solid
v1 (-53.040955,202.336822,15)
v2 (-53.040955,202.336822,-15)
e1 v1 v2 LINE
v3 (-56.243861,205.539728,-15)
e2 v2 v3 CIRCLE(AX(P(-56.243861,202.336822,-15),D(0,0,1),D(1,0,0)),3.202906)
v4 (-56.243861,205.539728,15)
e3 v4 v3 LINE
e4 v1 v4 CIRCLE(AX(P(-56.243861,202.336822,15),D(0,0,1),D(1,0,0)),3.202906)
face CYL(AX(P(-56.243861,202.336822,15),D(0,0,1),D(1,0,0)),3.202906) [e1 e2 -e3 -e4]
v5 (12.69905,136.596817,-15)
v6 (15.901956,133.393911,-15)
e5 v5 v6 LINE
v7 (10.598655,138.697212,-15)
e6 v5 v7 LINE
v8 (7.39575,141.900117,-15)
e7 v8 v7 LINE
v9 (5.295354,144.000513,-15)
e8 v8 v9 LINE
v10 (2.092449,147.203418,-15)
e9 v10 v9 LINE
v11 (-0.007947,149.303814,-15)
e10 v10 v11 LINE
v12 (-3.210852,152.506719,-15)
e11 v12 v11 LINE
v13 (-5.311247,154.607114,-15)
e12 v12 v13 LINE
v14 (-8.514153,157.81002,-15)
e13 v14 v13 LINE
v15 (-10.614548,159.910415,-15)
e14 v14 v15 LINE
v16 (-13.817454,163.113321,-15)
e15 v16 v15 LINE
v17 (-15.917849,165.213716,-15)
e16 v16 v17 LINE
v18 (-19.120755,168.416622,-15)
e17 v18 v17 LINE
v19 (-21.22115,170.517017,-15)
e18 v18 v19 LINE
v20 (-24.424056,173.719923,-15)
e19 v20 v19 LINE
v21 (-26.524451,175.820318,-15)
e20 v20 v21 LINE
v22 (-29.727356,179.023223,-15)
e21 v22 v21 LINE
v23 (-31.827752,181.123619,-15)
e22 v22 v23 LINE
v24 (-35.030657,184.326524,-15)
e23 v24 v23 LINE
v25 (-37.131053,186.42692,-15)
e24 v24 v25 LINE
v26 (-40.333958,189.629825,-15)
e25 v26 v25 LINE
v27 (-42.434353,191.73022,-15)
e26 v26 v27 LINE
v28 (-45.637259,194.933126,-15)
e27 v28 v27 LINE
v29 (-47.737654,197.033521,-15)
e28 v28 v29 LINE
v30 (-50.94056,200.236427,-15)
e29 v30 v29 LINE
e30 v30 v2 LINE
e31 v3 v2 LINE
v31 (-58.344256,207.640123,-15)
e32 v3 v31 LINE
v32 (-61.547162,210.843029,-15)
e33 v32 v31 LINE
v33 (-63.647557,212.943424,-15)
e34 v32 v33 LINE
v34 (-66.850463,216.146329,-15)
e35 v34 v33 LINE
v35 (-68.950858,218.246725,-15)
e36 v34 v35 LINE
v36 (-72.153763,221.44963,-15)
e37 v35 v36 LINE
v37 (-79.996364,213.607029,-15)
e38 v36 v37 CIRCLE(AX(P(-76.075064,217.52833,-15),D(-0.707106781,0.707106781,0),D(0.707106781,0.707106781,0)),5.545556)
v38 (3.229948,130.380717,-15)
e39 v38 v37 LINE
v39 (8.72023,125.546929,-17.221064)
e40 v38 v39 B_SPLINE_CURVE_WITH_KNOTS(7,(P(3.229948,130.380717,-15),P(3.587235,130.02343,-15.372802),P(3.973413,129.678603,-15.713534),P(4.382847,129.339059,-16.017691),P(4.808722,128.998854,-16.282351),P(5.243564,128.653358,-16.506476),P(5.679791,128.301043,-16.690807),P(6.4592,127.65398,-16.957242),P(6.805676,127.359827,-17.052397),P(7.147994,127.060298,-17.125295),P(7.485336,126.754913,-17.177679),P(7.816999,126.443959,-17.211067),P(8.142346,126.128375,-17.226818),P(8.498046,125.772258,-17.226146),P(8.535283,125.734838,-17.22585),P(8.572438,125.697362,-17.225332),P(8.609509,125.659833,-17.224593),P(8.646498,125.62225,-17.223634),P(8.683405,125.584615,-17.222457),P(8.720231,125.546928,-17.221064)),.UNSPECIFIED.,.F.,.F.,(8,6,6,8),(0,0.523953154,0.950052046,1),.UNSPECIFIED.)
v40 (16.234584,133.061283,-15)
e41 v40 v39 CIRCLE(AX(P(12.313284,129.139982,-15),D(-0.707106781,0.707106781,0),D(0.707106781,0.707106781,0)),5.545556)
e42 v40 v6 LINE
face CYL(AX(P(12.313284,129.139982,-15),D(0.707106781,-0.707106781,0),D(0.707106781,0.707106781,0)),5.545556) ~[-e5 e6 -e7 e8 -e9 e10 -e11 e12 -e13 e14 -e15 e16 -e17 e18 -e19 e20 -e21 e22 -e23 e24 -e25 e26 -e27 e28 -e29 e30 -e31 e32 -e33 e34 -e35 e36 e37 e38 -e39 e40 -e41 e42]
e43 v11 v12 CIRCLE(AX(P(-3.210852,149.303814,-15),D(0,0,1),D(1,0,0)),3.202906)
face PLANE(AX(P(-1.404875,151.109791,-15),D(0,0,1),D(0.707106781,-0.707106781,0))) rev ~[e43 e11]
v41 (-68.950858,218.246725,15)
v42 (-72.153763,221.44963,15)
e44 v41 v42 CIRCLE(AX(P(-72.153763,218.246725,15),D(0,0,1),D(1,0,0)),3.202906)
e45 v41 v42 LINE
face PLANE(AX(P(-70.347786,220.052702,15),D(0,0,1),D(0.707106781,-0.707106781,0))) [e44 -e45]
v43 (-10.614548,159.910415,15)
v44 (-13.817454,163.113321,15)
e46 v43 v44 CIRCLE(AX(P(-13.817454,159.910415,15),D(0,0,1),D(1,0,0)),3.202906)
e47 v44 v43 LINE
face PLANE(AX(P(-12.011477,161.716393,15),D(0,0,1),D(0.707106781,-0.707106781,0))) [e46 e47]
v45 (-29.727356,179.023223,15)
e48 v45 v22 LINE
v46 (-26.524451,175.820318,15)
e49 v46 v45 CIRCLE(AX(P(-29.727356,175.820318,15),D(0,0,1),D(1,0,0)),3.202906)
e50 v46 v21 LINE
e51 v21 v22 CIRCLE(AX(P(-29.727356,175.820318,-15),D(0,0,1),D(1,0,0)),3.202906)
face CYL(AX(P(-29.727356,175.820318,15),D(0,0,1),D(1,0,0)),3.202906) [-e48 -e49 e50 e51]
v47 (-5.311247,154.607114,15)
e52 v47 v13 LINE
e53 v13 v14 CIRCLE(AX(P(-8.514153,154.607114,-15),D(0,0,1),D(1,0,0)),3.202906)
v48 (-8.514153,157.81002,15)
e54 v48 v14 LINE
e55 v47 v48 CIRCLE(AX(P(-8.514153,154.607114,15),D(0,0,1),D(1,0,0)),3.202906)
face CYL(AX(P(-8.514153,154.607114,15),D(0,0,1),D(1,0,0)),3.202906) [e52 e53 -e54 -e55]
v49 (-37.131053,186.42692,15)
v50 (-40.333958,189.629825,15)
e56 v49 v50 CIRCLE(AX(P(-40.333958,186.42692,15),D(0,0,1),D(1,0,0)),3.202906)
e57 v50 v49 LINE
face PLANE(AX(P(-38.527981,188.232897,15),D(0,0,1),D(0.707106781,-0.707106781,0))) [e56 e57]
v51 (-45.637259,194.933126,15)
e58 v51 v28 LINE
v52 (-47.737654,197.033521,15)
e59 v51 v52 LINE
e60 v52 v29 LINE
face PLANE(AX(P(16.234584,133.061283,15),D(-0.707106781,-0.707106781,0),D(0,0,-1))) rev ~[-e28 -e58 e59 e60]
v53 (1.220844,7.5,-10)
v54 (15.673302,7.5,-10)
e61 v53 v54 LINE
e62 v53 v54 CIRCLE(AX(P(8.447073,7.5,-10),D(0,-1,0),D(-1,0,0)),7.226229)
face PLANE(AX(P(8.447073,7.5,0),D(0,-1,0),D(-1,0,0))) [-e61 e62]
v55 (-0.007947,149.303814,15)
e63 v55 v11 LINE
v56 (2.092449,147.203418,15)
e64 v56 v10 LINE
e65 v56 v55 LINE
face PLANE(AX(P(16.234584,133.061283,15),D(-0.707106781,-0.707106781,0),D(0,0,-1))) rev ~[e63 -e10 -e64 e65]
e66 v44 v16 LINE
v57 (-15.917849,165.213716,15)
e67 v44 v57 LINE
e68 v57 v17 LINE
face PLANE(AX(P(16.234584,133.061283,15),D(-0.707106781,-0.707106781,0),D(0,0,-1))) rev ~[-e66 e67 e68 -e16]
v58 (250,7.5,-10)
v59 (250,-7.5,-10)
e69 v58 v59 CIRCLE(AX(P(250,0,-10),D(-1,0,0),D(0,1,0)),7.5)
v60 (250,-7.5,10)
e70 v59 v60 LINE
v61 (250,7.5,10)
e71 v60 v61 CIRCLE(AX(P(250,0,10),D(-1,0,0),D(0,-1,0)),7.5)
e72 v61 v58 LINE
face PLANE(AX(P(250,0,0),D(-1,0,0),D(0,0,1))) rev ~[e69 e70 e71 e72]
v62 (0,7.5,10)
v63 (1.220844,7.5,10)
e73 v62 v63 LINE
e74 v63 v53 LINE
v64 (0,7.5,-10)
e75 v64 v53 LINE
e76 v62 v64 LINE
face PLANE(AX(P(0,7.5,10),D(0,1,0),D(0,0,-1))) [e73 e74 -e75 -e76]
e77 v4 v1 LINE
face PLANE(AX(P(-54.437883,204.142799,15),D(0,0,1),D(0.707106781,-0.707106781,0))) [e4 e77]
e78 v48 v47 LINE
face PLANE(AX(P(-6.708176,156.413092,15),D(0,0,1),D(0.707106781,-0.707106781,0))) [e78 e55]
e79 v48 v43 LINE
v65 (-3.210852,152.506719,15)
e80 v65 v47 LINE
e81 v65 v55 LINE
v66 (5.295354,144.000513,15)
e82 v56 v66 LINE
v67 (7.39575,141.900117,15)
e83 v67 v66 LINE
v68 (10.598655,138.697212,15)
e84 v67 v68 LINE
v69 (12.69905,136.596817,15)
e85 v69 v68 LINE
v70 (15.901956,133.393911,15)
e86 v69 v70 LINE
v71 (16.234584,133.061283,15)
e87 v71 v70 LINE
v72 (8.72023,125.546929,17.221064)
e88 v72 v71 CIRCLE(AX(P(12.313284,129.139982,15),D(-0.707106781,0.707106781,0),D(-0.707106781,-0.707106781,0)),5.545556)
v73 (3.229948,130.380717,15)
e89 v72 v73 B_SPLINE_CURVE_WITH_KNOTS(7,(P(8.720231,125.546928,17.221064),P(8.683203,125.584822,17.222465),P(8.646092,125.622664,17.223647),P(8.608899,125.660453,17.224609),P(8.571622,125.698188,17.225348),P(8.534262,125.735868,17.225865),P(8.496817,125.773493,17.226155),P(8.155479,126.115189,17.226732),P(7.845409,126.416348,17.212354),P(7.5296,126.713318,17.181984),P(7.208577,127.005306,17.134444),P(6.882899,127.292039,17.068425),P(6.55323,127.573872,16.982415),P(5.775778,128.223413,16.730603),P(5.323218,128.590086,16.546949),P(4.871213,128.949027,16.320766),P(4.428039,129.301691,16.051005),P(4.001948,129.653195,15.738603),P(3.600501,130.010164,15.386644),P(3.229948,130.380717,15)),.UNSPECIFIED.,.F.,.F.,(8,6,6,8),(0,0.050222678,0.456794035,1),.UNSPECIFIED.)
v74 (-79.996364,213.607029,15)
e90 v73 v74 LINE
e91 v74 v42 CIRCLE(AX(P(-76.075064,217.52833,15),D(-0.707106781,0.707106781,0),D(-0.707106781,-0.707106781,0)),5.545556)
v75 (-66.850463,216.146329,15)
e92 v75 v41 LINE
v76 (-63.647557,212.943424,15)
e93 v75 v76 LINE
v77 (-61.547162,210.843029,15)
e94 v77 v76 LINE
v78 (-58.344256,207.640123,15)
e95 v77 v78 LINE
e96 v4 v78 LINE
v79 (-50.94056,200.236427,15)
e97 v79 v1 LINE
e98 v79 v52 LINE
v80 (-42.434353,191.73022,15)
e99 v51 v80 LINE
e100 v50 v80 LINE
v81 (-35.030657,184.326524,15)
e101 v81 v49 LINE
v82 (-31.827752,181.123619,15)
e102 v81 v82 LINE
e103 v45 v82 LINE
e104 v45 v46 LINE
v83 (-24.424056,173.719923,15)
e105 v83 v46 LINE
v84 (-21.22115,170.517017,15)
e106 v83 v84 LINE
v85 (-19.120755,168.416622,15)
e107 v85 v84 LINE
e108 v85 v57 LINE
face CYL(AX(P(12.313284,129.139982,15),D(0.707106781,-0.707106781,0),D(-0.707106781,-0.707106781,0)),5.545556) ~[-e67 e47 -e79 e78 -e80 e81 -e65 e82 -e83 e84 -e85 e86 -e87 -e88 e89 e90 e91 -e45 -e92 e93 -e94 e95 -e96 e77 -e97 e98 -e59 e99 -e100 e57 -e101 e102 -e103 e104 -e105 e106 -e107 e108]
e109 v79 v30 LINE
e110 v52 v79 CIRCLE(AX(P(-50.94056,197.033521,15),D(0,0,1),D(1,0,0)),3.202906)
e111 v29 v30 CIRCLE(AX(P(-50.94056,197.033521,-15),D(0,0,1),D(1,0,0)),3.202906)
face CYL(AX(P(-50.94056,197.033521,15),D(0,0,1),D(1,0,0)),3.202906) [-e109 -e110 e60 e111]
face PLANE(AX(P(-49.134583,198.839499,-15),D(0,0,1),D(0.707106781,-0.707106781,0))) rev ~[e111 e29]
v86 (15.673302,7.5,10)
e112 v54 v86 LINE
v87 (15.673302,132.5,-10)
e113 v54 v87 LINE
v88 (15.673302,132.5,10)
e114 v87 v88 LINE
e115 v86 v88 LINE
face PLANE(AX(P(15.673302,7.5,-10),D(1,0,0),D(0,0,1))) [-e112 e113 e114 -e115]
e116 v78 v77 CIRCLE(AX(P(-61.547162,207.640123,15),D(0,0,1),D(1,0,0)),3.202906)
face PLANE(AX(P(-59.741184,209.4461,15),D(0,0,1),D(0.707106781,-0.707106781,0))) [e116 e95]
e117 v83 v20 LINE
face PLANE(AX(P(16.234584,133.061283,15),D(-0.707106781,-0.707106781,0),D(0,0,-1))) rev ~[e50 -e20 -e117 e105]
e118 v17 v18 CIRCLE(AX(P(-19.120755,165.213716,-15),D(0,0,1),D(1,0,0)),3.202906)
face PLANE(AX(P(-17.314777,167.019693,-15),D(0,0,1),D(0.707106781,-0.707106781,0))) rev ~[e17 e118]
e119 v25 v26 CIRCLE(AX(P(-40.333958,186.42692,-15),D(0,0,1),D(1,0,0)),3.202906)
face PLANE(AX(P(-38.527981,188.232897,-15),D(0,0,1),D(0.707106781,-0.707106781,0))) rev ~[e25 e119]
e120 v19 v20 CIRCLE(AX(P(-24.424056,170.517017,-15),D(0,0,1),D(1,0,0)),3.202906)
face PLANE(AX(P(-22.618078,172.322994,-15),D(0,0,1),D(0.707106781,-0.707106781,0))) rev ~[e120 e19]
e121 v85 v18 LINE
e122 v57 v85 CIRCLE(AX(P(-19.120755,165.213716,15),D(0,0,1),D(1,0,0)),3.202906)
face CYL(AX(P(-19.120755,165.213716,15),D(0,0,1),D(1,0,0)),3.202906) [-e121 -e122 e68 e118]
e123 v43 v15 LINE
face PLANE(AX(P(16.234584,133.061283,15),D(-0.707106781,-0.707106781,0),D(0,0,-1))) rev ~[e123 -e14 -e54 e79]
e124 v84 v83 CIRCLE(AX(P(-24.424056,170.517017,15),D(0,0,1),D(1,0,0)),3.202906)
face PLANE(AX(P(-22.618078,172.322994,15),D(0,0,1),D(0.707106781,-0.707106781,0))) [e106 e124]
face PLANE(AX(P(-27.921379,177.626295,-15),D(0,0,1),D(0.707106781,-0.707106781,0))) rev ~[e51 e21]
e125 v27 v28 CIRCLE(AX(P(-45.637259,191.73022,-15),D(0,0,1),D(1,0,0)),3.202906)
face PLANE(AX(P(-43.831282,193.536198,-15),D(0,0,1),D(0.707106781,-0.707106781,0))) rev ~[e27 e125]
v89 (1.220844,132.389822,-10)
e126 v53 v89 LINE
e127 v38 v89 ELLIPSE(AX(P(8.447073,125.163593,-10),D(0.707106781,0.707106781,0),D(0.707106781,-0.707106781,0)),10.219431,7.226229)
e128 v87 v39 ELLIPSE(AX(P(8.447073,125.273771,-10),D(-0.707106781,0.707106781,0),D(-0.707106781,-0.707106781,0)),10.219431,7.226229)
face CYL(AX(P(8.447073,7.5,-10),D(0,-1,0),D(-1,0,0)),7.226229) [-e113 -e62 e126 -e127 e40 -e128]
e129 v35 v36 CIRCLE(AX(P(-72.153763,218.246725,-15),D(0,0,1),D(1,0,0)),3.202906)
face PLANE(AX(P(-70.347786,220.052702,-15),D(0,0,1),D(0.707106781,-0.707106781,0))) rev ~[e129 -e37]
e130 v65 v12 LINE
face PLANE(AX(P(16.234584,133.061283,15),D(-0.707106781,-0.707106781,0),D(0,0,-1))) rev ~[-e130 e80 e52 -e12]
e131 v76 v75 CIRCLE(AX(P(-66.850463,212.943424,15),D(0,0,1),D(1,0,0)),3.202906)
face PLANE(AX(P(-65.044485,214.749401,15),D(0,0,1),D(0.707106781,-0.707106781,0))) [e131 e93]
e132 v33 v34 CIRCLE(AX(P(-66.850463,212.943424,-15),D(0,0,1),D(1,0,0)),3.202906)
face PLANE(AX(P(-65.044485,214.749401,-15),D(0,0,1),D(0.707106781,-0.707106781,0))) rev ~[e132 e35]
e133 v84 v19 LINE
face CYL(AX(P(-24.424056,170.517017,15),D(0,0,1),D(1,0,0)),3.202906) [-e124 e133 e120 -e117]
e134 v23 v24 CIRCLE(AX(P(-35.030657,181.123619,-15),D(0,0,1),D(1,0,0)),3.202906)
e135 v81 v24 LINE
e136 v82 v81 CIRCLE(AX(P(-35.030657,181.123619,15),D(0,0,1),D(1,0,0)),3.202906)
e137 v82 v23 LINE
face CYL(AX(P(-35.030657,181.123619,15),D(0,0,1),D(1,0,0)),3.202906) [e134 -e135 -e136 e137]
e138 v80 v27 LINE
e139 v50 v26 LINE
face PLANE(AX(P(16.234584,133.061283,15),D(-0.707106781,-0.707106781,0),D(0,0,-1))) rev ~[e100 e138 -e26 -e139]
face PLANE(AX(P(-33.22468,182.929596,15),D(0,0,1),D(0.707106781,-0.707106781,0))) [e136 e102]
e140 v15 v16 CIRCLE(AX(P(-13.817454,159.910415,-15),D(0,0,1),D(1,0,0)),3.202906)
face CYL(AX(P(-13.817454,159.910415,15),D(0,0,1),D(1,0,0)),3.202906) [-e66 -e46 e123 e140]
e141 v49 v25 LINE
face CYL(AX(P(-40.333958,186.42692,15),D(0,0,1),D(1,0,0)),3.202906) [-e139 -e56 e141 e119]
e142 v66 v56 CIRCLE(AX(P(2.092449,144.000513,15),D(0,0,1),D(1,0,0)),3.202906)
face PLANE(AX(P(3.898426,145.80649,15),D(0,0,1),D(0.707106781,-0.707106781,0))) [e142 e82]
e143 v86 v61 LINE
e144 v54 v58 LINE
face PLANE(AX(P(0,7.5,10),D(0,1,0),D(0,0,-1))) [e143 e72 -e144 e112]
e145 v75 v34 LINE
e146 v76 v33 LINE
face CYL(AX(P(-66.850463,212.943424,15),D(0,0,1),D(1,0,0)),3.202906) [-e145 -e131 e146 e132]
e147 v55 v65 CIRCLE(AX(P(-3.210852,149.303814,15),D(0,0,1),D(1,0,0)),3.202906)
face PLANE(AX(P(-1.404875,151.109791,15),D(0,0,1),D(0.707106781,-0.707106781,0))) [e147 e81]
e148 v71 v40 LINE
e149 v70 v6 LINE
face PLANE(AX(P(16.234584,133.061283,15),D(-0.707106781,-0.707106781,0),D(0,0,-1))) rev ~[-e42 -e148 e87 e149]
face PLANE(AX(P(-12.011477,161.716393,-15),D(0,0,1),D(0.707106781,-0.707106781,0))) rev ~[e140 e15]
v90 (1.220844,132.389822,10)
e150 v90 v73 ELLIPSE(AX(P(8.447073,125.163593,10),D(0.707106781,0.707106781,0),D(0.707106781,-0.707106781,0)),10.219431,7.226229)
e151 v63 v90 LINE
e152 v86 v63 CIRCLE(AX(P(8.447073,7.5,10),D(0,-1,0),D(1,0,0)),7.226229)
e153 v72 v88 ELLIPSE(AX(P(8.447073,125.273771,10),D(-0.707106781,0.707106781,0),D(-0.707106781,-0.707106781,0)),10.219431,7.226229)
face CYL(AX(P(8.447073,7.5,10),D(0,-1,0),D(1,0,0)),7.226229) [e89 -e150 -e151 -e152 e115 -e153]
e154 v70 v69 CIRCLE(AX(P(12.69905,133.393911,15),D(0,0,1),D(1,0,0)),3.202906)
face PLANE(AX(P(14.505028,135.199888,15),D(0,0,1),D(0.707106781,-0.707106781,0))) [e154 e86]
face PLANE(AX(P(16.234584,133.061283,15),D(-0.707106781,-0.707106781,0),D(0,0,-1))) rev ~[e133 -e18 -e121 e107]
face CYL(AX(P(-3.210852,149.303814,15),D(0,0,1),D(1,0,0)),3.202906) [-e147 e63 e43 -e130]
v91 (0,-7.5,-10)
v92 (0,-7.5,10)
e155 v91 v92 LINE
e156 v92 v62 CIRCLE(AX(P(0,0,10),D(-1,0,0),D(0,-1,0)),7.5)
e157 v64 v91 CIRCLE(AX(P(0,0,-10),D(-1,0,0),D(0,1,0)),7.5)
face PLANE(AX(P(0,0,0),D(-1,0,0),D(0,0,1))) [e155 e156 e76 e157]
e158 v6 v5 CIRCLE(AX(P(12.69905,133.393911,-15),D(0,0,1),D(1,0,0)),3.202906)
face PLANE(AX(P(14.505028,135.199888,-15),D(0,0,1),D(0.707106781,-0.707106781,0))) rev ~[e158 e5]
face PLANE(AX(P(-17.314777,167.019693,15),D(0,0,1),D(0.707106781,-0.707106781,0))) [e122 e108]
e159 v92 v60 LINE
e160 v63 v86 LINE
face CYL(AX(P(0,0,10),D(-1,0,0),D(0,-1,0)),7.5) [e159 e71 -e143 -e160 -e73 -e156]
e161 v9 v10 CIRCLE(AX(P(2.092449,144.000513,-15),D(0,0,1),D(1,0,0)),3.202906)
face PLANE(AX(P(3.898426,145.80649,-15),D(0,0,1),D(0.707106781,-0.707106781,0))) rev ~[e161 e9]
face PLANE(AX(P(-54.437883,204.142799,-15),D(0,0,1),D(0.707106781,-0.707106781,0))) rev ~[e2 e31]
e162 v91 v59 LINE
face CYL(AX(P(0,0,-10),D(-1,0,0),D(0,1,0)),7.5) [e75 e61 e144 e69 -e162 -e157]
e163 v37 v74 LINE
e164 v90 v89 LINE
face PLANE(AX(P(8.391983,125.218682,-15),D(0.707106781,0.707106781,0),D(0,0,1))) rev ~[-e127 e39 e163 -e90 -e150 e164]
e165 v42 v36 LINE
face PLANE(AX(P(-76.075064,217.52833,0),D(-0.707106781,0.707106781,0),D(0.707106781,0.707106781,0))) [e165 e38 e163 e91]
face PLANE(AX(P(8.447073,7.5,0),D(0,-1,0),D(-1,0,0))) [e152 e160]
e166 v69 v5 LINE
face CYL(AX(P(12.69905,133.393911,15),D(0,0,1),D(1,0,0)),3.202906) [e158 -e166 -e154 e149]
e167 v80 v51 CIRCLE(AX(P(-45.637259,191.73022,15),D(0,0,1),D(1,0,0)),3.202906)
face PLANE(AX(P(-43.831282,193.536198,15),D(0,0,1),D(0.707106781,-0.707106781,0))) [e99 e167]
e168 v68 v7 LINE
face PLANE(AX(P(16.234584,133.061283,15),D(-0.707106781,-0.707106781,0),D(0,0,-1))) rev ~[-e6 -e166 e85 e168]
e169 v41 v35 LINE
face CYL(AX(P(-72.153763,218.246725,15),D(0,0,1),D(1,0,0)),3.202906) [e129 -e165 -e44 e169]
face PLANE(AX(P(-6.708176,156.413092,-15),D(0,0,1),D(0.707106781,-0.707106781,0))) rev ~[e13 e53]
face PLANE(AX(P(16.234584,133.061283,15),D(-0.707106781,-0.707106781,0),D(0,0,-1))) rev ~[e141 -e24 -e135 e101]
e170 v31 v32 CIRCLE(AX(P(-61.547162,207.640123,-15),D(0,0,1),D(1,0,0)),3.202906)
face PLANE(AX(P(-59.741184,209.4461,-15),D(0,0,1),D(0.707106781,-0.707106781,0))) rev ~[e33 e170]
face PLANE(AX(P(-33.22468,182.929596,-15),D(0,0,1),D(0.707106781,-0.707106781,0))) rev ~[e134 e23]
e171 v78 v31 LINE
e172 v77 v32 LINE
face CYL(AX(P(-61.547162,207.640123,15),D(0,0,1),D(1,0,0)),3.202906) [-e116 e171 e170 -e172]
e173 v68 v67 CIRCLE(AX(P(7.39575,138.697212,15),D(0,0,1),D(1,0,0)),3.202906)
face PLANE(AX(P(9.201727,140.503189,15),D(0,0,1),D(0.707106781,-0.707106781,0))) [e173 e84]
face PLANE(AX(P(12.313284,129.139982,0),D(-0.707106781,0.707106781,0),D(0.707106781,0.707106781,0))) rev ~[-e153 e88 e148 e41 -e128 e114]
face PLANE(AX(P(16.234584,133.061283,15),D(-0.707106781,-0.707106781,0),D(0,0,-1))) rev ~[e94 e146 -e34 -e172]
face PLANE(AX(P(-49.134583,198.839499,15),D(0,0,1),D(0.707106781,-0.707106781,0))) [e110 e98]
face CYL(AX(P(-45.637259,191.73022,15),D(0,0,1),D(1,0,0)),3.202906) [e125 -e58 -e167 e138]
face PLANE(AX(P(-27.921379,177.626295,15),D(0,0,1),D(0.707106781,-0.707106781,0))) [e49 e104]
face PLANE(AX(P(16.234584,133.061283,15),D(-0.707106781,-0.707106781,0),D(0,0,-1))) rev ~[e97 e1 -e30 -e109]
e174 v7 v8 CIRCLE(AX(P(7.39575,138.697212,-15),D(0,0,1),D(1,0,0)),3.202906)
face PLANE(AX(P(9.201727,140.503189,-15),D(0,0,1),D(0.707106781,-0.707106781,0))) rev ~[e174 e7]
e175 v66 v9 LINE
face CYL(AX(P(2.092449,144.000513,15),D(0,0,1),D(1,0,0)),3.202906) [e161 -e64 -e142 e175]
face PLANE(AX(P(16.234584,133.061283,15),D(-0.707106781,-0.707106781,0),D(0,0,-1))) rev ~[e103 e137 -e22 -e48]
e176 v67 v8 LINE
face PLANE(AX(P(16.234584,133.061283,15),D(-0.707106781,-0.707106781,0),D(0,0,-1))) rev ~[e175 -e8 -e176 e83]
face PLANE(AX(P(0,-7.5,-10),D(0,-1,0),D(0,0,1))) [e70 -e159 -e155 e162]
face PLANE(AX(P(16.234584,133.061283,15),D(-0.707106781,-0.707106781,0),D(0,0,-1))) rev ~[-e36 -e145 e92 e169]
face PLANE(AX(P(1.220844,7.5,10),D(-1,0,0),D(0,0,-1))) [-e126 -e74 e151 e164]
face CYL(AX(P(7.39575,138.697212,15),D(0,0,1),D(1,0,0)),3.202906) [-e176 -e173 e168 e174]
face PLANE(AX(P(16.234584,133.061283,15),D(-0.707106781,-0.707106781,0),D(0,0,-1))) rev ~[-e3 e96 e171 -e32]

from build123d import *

# Parameters (mm, degrees)
BOSS_EXTRUDE1_DEPTH = 250
BOSS_EXTRUDE6_DEPTH = 125
BOSS_EXTRUDE7_DEPTH = 125
BOSS_EXTRUDE8_DEPTH = 30


with BuildPart() as part:
    # Sketch1 → Boss-Extrude1 (new body)
    with BuildSketch(Plane(origin=(0, 0, 0), x_dir=(0, 0, -1), z_dir=(1, 0, 0))):
        with BuildLine():
            Line((-10, 7.5), (10, 7.5))
            ThreePointArc((10, 7.5), (17.5, 0), (10, -7.5))
            Line((10, -7.5), (-10, -7.5))
            ThreePointArc((-10, -7.5), (-17.5, 0), (-10, 7.5))
        make_face()
    extrude(amount=BOSS_EXTRUDE1_DEPTH)

    # Sketch11 → Boss-Extrude6 (add)
    with BuildSketch(Plane(origin=(0, 7.5, 0), x_dir=(1, 0, 0), z_dir=(0, 1, 0))):
        with BuildLine():
            Line((1.220843579, -10), (1.220843579, 10))
            ThreePointArc((1.220843579, 10), (8.447072594, 17.226229015), (15.673301609, 10))
            Line((15.673301609, 10), (15.673301609, -10))
            ThreePointArc((15.673301609, -10), (8.447072594, -17.226229015), (1.220843579, -10))
        make_face()
    extrude(amount=BOSS_EXTRUDE6_DEPTH)

    # Sketch12 → Boss-Extrude7 (add)
    with BuildSketch(Plane(origin=(-58.413349195, 58.413349195, 0), x_dir=(-0.7071067811865476, -0.7071067811865476, 0), z_dir=(0.7071067811865476, -0.7071067811865476, 0))):
        with BuildLine():
            Line((-105.56811993, -15), (-105.56811993, 15))
            ThreePointArc((-105.56811993, 15), (-100.022563681, 20.545556249), (-94.477007433, 15))
            Line((-94.477007433, 15), (-94.477007433, -15))
            ThreePointArc((-94.477007433, -15), (-100.022563681, -20.545556249), (-105.56811993, -15))
        make_face()
    extrude(amount=-BOSS_EXTRUDE7_DEPTH)

    # Sketch13 → Boss-Extrude8 (add)
    with BuildSketch(Plane(origin=(0, 0, 15), x_dir=(0.7071067811865476, -0.7071067811865476, 0), z_dir=(0, 0, 1))):
        with BuildLine():
            Line((-207.608950656, 105.56811993), (-203.079358094, 105.56811993))
            ThreePointArc((-203.079358094, 105.56811993), (-205.344154375, 106.506229266), (-207.608950656, 105.56811993))
        make_face()
        with BuildLine():
            Line((-200.108950656, 105.56811993), (-195.579358094, 105.56811993))
            ThreePointArc((-195.579358094, 105.56811993), (-197.844154375, 106.506229266), (-200.108950656, 105.56811993))
        make_face()
        with BuildLine():
            Line((-192.608950656, 105.56811993), (-188.079358094, 105.56811993))
            ThreePointArc((-188.079358094, 105.56811993), (-190.344154375, 106.506229266), (-192.608950656, 105.56811993))
        make_face()
        with BuildLine():
            Line((-185.108950656, 105.56811993), (-180.579358094, 105.56811993))
            ThreePointArc((-180.579358094, 105.56811993), (-182.844154375, 106.506229266), (-185.108950656, 105.56811993))
        make_face()
        with BuildLine():
            Line((-177.608950656, 105.56811993), (-173.079358094, 105.56811993))
            ThreePointArc((-173.079358094, 105.56811993), (-175.344154375, 106.506229266), (-177.608950656, 105.56811993))
        make_face()
        with BuildLine():
            Line((-170.108950656, 105.56811993), (-165.579358094, 105.56811993))
            ThreePointArc((-165.579358094, 105.56811993), (-167.844154375, 106.506229266), (-170.108950656, 105.56811993))
        make_face()
        with BuildLine():
            Line((-162.608950656, 105.56811993), (-158.079358094, 105.56811993))
            ThreePointArc((-158.079358094, 105.56811993), (-160.344154375, 106.506229266), (-162.608950656, 105.56811993))
        make_face()
        with BuildLine():
            Line((-155.108950656, 105.56811993), (-150.579358094, 105.56811993))
            ThreePointArc((-150.579358094, 105.56811993), (-152.844154375, 106.506229266), (-155.108950656, 105.56811993))
        make_face()
        with BuildLine():
            Line((-147.608950656, 105.56811993), (-143.079358094, 105.56811993))
            ThreePointArc((-143.079358094, 105.56811993), (-145.344154375, 106.506229266), (-147.608950656, 105.56811993))
        make_face()
        with BuildLine():
            Line((-140.108950656, 105.56811993), (-135.579358094, 105.56811993))
            ThreePointArc((-135.579358094, 105.56811993), (-137.844154375, 106.506229266), (-140.108950656, 105.56811993))
        make_face()
        with BuildLine():
            Line((-132.608950656, 105.56811993), (-128.079358094, 105.56811993))
            ThreePointArc((-128.079358094, 105.56811993), (-130.344154375, 106.506229266), (-132.608950656, 105.56811993))
        make_face()
        with BuildLine():
            Line((-125.108950656, 105.56811993), (-120.579358094, 105.56811993))
            ThreePointArc((-120.579358094, 105.56811993), (-122.844154375, 106.506229266), (-125.108950656, 105.56811993))
        make_face()
        with BuildLine():
            Line((-117.608950656, 105.56811993), (-113.079358094, 105.56811993))
            ThreePointArc((-113.079358094, 105.56811993), (-115.344154375, 106.506229266), (-117.608950656, 105.56811993))
        make_face()
        with BuildLine():
            Line((-110.108950656, 105.56811993), (-105.579358094, 105.56811993))
            ThreePointArc((-105.579358094, 105.56811993), (-107.844154375, 106.506229266), (-110.108950656, 105.56811993))
        make_face()
        with BuildLine():
            Line((-102.608950656, 105.56811993), (-98.079358094, 105.56811993))
            ThreePointArc((-98.079358094, 105.56811993), (-100.344154375, 106.506229266), (-102.608950656, 105.56811993))
        make_face()
        with BuildLine():
            Line((-95.108950656, 105.56811993), (-90.579358094, 105.56811993))
            ThreePointArc((-90.579358094, 105.56811993), (-92.844154375, 106.506229266), (-95.108950656, 105.56811993))
        make_face()
        with BuildLine():
            Line((-87.608950656, 105.56811993), (-83.079358094, 105.56811993))
            ThreePointArc((-83.079358094, 105.56811993), (-85.344154375, 106.506229266), (-87.608950656, 105.56811993))
        make_face()
    extrude(amount=-BOSS_EXTRUDE8_DEPTH)


solid = part.part
